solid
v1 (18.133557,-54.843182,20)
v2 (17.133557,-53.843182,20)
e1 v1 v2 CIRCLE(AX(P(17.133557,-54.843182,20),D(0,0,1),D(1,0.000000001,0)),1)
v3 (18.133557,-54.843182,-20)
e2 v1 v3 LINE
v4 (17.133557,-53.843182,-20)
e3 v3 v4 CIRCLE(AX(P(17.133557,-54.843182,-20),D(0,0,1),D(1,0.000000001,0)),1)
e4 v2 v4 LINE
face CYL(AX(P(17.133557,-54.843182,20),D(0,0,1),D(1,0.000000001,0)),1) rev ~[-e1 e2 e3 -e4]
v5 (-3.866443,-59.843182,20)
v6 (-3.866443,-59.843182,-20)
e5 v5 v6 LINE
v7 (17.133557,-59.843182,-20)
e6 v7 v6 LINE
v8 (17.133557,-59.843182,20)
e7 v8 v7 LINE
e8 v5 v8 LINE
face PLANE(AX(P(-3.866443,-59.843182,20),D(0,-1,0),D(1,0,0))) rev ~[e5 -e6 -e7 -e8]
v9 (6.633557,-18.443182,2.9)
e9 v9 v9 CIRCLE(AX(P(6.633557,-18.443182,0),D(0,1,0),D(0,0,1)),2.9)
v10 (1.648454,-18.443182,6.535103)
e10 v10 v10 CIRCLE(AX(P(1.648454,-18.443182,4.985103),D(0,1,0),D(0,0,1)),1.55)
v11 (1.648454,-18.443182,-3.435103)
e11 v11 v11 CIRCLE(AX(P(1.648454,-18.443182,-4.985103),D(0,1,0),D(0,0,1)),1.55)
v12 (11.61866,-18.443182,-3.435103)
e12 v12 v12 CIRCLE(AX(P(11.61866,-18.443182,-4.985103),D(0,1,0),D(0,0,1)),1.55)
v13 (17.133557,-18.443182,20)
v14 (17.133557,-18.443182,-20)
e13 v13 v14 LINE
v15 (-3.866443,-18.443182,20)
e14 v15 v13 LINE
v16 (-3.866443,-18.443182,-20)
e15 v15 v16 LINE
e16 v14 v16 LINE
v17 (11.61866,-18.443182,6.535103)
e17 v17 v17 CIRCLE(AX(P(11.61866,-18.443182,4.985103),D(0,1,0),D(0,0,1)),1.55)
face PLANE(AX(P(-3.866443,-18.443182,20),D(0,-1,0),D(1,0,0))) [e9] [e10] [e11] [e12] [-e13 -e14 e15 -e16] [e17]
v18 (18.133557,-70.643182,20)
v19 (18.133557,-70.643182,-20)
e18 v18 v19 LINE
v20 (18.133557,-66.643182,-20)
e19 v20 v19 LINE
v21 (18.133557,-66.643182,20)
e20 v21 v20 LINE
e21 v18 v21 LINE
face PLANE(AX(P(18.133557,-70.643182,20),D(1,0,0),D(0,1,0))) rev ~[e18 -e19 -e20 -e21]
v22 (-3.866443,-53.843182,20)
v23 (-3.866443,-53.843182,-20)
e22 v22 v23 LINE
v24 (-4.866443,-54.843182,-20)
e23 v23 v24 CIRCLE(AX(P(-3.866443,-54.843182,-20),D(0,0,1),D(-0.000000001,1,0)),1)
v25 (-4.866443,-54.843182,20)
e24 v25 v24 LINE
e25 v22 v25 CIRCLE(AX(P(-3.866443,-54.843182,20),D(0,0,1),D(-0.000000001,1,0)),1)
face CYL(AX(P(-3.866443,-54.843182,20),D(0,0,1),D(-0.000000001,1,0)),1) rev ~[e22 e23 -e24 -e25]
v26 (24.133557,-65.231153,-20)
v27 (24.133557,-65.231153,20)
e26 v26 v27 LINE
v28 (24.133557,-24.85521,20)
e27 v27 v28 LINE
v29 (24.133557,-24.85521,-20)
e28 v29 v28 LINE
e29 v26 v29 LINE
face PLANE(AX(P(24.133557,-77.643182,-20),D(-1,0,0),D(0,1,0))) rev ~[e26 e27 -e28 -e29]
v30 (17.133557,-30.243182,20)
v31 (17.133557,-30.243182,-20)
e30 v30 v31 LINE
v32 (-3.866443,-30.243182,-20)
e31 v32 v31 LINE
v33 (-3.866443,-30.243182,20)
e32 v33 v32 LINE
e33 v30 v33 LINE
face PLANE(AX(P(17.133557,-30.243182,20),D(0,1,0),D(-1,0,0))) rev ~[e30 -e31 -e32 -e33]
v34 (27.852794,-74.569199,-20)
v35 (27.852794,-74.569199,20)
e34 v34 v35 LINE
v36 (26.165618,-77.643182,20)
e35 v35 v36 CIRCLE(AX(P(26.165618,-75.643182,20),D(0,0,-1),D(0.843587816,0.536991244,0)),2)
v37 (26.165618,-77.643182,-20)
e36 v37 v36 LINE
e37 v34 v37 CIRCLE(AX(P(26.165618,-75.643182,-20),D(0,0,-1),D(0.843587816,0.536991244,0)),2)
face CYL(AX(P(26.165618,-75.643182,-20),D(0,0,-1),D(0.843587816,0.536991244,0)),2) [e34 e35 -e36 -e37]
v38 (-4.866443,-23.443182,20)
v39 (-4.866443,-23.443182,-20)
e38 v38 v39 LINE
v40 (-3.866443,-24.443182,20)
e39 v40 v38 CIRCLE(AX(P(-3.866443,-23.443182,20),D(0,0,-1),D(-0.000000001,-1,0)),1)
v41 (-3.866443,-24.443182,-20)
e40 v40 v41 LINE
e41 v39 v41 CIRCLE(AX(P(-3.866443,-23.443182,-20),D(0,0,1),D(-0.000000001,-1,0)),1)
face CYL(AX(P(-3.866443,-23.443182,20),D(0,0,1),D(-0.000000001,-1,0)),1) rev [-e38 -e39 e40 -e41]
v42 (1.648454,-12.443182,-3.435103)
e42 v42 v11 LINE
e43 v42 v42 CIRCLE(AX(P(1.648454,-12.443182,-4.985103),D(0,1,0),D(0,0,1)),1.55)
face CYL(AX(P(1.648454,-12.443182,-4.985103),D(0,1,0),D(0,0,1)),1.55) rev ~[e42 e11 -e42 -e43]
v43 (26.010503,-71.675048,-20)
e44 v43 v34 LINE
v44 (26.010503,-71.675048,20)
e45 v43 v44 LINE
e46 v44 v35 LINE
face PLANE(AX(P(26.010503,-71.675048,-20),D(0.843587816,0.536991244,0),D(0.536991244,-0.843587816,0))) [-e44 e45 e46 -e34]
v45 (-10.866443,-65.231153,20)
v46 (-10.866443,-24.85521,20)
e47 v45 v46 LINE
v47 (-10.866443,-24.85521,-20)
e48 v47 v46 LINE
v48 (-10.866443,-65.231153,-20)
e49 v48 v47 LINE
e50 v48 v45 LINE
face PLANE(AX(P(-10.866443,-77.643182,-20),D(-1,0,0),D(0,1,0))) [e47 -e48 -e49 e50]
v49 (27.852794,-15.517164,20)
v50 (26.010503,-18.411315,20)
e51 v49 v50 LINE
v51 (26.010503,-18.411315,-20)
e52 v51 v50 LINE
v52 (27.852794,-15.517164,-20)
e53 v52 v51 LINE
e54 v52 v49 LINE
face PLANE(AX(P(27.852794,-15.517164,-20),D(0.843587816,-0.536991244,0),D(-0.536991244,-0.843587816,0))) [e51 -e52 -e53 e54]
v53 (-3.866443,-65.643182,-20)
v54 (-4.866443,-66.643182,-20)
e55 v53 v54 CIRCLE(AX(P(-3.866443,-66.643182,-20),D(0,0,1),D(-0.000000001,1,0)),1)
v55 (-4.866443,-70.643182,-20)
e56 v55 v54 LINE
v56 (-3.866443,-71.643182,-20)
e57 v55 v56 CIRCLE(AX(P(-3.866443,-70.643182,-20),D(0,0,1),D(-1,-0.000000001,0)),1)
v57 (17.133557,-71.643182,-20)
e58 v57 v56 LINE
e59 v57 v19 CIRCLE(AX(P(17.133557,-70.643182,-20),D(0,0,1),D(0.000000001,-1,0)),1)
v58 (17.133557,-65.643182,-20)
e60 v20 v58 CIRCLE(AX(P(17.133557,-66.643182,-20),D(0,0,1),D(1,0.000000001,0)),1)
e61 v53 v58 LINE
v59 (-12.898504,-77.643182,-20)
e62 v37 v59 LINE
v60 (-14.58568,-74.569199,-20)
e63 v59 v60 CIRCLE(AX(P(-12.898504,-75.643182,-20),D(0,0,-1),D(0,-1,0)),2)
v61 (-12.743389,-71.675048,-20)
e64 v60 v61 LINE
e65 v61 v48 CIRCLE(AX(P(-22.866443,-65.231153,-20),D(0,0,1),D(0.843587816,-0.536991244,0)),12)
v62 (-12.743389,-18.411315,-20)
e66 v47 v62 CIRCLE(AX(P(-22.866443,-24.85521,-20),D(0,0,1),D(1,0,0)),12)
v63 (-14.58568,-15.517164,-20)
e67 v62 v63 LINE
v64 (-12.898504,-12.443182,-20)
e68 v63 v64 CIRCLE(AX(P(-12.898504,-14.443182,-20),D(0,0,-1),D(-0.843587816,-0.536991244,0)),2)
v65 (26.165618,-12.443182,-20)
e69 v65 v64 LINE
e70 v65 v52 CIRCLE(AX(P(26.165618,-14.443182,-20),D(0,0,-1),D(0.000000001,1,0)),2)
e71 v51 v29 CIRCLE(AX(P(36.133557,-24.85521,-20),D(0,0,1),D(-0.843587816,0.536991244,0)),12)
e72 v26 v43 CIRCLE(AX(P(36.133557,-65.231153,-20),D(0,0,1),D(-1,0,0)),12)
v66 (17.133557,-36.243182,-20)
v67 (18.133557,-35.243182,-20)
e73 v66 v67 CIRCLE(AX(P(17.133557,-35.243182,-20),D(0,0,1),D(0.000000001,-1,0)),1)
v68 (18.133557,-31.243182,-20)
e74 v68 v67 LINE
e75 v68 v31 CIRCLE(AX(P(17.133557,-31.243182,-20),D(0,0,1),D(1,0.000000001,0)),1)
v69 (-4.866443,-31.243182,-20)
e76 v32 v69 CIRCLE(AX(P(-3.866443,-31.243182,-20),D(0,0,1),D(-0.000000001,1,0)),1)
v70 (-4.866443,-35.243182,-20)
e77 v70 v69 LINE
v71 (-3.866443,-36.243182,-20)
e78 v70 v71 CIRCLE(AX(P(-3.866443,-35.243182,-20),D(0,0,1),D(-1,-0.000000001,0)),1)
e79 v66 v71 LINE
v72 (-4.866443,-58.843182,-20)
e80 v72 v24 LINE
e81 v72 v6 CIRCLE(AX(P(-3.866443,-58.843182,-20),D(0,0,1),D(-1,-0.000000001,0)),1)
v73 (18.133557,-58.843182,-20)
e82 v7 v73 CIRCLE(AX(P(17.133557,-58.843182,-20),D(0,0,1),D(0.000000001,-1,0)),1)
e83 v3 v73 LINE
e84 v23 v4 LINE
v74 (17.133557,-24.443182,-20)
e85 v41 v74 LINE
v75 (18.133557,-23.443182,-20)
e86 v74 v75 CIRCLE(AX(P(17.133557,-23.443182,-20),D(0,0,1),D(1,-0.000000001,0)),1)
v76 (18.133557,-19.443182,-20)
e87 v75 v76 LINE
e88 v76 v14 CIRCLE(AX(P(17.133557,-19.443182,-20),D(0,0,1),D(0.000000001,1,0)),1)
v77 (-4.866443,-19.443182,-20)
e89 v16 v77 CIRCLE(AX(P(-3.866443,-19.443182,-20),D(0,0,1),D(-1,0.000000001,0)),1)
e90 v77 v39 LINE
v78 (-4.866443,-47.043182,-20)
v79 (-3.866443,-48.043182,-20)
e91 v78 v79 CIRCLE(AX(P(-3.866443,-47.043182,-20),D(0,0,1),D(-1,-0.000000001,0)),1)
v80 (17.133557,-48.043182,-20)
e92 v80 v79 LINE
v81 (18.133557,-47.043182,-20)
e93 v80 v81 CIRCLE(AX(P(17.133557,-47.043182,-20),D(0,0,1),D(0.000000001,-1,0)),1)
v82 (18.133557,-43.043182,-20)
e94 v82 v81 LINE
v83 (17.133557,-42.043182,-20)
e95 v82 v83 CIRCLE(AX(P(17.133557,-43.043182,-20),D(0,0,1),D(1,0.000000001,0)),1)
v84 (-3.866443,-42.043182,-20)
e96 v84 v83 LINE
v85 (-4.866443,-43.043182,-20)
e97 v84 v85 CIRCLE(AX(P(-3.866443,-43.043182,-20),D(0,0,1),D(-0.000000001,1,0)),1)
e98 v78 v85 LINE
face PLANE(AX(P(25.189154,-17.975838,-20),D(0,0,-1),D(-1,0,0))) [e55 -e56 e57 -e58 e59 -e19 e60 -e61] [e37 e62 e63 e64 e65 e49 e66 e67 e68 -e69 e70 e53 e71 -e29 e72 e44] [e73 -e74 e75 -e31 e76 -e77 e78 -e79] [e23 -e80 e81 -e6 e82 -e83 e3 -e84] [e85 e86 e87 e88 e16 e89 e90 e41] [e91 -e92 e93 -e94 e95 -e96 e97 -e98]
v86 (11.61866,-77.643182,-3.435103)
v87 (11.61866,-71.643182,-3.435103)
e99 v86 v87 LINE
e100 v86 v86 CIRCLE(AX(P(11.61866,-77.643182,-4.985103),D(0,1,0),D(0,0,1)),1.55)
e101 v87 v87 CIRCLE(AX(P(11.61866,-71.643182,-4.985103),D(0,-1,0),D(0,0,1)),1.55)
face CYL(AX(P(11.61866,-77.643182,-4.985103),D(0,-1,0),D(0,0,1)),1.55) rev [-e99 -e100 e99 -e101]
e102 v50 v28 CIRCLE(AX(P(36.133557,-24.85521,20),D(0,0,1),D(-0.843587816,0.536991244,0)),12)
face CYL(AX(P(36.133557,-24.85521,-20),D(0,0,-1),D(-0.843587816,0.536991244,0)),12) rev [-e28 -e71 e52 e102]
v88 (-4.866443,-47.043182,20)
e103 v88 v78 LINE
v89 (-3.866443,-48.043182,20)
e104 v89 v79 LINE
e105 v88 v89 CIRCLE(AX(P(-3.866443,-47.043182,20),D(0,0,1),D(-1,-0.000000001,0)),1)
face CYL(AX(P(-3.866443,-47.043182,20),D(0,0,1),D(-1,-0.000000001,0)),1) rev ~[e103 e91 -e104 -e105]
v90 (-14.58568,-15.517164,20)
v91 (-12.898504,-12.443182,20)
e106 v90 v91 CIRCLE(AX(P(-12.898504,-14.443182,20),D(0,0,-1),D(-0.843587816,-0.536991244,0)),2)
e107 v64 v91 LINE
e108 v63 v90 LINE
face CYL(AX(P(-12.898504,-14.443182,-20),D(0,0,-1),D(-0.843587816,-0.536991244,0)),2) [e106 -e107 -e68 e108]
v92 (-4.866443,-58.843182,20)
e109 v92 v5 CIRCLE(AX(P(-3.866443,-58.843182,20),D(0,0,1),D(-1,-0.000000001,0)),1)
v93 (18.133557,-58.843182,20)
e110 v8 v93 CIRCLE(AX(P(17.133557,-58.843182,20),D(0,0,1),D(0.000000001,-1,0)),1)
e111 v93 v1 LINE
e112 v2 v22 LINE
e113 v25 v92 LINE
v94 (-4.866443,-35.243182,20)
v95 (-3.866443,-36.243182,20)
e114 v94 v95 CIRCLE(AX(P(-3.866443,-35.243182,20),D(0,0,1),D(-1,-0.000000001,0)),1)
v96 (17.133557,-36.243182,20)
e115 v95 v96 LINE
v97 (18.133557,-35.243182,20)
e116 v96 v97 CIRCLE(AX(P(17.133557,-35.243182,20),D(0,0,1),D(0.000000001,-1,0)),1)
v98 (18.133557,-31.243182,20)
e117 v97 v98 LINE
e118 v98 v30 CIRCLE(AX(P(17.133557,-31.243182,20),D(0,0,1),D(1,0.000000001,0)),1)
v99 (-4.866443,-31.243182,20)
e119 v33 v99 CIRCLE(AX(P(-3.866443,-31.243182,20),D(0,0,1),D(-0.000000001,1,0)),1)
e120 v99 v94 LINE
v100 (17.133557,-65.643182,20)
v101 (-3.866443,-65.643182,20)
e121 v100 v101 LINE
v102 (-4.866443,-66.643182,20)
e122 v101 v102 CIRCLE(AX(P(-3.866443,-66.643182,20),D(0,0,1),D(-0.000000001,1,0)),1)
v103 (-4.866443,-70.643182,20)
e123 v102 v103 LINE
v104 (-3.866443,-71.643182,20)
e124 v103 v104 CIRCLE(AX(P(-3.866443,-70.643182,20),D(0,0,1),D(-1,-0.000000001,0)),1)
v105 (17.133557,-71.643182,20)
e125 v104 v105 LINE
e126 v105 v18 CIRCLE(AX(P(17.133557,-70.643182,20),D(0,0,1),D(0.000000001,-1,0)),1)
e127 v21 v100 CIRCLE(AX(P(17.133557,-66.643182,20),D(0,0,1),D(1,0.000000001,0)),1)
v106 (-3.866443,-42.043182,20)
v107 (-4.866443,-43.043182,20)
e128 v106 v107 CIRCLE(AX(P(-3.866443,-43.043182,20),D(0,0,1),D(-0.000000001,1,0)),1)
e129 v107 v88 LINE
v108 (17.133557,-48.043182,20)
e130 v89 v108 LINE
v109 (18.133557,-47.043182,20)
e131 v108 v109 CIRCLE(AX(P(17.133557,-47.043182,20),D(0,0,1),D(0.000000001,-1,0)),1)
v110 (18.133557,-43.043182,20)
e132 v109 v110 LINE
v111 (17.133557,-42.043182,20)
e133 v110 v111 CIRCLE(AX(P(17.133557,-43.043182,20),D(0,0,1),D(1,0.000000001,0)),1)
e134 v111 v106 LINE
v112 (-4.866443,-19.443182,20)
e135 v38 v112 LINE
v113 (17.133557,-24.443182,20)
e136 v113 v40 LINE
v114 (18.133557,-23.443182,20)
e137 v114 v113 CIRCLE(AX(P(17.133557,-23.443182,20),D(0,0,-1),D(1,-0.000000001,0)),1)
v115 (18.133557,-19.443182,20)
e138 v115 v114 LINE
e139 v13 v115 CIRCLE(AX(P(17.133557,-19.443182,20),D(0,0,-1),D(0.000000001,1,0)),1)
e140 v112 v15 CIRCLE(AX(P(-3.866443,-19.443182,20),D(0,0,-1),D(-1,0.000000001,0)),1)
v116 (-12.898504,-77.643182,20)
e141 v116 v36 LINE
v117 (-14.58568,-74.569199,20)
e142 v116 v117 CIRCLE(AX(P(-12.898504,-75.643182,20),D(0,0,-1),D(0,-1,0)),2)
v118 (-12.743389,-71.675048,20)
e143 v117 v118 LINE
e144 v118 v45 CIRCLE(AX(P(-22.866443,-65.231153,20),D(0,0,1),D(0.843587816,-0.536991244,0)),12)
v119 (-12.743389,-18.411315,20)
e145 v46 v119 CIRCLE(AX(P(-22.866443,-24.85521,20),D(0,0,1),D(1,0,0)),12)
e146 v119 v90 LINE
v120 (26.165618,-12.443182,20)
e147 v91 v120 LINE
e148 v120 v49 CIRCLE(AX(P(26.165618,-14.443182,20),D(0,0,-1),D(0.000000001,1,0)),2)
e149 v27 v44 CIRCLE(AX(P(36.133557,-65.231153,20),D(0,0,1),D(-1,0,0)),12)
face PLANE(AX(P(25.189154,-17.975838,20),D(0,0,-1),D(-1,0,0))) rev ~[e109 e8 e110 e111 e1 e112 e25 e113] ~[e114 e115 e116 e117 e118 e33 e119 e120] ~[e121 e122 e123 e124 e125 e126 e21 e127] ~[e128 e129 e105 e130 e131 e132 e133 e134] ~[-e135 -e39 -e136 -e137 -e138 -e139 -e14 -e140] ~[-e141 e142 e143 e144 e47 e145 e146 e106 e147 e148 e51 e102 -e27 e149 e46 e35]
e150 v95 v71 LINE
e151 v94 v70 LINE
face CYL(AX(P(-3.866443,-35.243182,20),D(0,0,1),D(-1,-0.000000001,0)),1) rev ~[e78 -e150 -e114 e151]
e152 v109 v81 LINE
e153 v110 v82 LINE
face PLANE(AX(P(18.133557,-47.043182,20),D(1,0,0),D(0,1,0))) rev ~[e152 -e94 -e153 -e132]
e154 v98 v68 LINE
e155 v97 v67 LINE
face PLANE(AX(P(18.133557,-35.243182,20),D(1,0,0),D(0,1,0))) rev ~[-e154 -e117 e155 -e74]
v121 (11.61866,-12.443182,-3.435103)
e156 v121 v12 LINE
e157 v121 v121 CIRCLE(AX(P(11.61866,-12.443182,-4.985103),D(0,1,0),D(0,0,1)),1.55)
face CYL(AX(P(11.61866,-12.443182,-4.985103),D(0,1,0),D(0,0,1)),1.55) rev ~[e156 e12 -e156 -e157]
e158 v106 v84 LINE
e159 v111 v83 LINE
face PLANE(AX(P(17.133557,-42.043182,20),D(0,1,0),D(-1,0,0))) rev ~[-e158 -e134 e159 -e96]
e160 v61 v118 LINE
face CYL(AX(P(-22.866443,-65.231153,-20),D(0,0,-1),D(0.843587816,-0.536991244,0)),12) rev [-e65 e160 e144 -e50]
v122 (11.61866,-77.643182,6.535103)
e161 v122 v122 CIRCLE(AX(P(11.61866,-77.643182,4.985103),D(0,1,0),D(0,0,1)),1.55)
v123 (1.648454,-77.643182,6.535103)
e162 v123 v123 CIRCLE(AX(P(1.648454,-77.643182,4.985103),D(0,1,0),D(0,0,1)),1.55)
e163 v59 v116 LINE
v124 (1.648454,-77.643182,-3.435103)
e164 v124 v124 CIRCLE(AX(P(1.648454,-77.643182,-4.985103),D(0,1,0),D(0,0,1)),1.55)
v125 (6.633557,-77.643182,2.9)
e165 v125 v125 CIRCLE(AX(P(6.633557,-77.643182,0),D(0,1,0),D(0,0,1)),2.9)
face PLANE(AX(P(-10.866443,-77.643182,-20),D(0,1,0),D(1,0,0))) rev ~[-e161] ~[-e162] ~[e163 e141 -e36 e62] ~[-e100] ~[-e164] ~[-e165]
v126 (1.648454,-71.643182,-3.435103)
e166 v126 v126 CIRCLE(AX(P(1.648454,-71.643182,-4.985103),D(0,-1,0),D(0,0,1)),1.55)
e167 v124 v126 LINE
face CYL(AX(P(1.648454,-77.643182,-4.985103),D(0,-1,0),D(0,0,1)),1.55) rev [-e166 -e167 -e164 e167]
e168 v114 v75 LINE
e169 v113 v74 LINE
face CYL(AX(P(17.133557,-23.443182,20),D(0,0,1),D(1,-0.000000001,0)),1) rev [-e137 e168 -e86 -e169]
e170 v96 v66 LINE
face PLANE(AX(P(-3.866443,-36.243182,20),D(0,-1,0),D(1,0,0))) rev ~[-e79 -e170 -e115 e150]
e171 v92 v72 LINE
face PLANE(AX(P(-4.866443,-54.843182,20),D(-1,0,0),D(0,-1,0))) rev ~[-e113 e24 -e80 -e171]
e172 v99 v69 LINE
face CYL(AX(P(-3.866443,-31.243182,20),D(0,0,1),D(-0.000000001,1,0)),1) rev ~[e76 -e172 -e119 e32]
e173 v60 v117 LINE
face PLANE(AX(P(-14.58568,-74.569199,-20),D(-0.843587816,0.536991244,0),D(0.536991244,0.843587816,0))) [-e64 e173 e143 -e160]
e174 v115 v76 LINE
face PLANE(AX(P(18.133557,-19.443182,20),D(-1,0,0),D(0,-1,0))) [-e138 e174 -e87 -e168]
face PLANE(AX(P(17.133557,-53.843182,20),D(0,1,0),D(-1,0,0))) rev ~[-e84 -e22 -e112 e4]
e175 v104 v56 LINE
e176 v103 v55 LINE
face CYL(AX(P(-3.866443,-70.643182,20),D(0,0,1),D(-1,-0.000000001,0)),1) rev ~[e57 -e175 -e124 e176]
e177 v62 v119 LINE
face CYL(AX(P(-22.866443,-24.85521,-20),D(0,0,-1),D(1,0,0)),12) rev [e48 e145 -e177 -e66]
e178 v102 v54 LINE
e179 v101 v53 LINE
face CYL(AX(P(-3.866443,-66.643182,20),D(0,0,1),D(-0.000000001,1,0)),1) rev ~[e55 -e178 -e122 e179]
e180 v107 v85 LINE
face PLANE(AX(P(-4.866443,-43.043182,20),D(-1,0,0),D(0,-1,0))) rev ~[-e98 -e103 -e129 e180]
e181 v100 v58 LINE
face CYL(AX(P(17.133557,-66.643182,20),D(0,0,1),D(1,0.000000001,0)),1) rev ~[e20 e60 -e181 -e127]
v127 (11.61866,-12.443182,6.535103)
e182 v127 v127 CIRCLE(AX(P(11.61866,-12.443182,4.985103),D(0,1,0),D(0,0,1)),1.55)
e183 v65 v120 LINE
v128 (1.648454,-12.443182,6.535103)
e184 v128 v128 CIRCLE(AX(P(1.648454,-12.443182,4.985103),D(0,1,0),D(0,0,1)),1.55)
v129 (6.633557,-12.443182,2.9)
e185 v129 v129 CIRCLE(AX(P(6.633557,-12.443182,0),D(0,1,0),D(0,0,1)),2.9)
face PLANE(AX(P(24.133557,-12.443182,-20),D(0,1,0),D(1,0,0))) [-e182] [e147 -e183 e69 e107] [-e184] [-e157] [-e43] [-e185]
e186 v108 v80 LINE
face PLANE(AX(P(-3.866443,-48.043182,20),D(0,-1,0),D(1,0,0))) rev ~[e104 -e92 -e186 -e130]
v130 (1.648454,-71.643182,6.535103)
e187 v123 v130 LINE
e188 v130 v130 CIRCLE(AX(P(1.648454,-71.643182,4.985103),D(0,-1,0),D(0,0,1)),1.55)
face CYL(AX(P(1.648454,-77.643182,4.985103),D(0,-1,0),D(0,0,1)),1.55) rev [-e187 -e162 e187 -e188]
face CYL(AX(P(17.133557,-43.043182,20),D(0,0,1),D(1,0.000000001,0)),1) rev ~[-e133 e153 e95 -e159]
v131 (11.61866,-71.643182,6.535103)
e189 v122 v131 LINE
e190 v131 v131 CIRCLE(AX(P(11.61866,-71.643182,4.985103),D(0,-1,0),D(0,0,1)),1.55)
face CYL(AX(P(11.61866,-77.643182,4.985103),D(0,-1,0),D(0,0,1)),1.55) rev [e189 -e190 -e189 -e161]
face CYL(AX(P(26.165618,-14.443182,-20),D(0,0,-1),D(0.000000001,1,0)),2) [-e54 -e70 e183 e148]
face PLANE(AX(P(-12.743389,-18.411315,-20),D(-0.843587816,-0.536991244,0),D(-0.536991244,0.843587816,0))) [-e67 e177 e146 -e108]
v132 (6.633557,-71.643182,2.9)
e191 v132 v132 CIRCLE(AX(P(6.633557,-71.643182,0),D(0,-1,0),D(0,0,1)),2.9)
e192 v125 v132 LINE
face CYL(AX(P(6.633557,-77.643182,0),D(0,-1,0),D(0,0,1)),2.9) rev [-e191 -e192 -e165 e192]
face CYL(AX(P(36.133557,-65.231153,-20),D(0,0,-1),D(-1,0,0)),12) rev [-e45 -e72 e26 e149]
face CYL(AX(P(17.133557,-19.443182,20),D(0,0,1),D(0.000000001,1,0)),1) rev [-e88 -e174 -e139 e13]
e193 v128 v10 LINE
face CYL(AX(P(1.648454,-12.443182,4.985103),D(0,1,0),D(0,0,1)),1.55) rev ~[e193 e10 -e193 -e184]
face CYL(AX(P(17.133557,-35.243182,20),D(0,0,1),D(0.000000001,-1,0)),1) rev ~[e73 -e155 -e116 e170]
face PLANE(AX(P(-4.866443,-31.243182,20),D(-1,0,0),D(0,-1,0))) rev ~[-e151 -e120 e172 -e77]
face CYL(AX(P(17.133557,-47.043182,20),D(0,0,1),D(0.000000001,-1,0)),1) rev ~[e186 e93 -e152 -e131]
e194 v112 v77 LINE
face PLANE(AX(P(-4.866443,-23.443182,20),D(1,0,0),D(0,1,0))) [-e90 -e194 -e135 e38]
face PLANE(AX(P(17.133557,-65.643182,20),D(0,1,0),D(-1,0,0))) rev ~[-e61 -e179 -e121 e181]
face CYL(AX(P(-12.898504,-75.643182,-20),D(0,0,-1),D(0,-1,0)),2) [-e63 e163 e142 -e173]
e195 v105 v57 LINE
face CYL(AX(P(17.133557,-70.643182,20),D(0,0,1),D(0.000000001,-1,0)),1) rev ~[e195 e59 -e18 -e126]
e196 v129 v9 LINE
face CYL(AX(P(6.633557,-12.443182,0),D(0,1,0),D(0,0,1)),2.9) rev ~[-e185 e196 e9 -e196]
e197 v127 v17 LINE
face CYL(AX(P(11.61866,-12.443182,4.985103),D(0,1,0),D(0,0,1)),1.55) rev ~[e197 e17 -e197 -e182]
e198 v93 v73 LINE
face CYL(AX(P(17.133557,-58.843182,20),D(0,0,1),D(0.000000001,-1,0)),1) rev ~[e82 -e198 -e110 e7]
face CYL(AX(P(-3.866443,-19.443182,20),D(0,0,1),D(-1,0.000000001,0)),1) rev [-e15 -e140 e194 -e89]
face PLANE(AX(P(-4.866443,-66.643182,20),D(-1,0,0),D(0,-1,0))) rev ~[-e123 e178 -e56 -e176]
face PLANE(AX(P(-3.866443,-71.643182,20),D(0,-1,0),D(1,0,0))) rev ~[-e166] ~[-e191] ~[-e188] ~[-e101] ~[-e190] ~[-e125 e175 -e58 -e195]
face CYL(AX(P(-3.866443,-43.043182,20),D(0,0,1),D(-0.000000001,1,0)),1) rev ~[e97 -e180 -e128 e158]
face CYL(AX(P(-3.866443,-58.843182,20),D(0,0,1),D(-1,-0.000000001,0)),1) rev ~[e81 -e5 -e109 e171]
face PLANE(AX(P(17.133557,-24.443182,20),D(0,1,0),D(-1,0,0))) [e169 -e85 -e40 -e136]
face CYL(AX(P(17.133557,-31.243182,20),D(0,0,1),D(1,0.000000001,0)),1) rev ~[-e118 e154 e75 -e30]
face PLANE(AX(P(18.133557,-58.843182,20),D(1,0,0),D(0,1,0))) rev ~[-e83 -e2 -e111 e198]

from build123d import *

# Parameters (mm, degrees)
BOSS_EXTRUDE1_DEPTH      = 20
BOSS_EXTRUDE1_DEPTH_BACK = 20
SKETCH1_W                = 35
SKETCH1_H                = 65.2
CUT_EXTRUDE3_REACH       = 92.614
SKETCH7_R                = 1.55
SKETCH7_R_2              = 2.9
CUT_EXTRUDE4_DEPTH       = 10
BOSS_EXTRUDE2_DEPTH      = 40


with BuildPart() as part:
    # Sketch1 → Boss-Extrude1 (new, two sides: drawn at the far end of the back side and taken through both)
    with BuildSketch(Plane.XY.offset(-BOSS_EXTRUDE1_DEPTH_BACK)):
        with Locations((6.633557164, -45.043181818)):
            Rectangle(SKETCH1_W, SKETCH1_H)
    extrude(amount=BOSS_EXTRUDE1_DEPTH + BOSS_EXTRUDE1_DEPTH_BACK)

    # Sketch5 → Cut-Extrude3 (cut, up to next)
    with BuildSketch(Plane.XY.offset(20), mode=Mode.PRIVATE) as cut_extrude3_sk1:
        with BuildLine():
            Line((-4.866442836, -31.243181818), (-4.866442836, -35.243181818))
            ThreePointArc((-4.866442836, -35.243181818), (-4.573549617, -35.950288599), (-3.866442836, -36.243181818))
            Line((-3.866442836, -36.243181818), (17.133557164, -36.243181818))
            ThreePointArc((17.133557164, -36.243181818), (17.840663945, -35.950288599), (18.133557164, -35.243181818))
            Line((18.133557164, -35.243181818), (18.133557164, -31.243181818))
            ThreePointArc((18.133557164, -31.243181818), (17.840663945, -30.536075037), (17.133557164, -30.243181818))
            Line((17.133557164, -30.243181818), (-3.866442836, -30.243181818))
            ThreePointArc((-3.866442836, -30.243181818), (-4.573549617, -30.536075037), (-4.866442836, -31.243181818))
        make_face()
    cut_extrude3_tool1 = extrude(cut_extrude3_sk1.sketch, amount=-CUT_EXTRUDE3_REACH, mode=Mode.PRIVATE) & part.part
    # Sketch5 → Cut-Extrude3 (cut, up to next)
    with BuildSketch(Plane.XY.offset(20), mode=Mode.PRIVATE) as cut_extrude3_sk2:
        with BuildLine():
            Line((-4.866442836, -43.043181818), (-4.866442836, -47.043181818))
            ThreePointArc((-4.866442836, -47.043181818), (-4.573549617, -47.750288599), (-3.866442836, -48.043181818))
            Line((-3.866442836, -48.043181818), (17.133557164, -48.043181818))
            ThreePointArc((17.133557164, -48.043181818), (17.840663945, -47.750288599), (18.133557164, -47.043181818))
            Line((18.133557164, -47.043181818), (18.133557164, -43.043181818))
            ThreePointArc((18.133557164, -43.043181818), (17.840663945, -42.336075037), (17.133557164, -42.043181818))
            Line((17.133557164, -42.043181818), (-3.866442836, -42.043181818))
            ThreePointArc((-3.866442836, -42.043181818), (-4.573549617, -42.336075037), (-4.866442836, -43.043181818))
        make_face()
    cut_extrude3_tool2 = extrude(cut_extrude3_sk2.sketch, amount=-CUT_EXTRUDE3_REACH, mode=Mode.PRIVATE) & part.part
    # Sketch5 → Cut-Extrude3 (cut, up to next)
    with BuildSketch(Plane.XY.offset(20), mode=Mode.PRIVATE) as cut_extrude3_sk3:
        with BuildLine():
            Line((-3.866442836, -18.443181818), (17.133557164, -18.443181818))
            ThreePointArc((17.133557164, -18.443181818), (17.840663945, -18.736075037), (18.133557164, -19.443181818))
            Line((18.133557164, -19.443181818), (18.133557164, -23.443181818))
            ThreePointArc((18.133557164, -23.443181818), (17.840663945, -24.150288599), (17.133557164, -24.443181818))
            Line((17.133557164, -24.443181818), (-3.866442836, -24.443181818))
            ThreePointArc((-3.866442836, -24.443181818), (-4.573549617, -24.150288599), (-4.866442836, -23.443181818))
            Line((-4.866442836, -23.443181818), (-4.866442836, -19.443181818))
            ThreePointArc((-4.866442836, -19.443181818), (-4.573549617, -18.736075037), (-3.866442836, -18.443181818))
        make_face()
    cut_extrude3_tool3 = extrude(cut_extrude3_sk3.sketch, amount=-CUT_EXTRUDE3_REACH, mode=Mode.PRIVATE) & part.part
    # Sketch5 → Cut-Extrude3 (cut, up to next)
    with BuildSketch(Plane.XY.offset(20), mode=Mode.PRIVATE) as cut_extrude3_sk4:
        with BuildLine():
            Line((-4.866442836, -54.843181818), (-4.866442836, -58.843181818))
            ThreePointArc((-4.866442836, -58.843181818), (-4.573549617, -59.550288599), (-3.866442836, -59.843181818))
            Line((-3.866442836, -59.843181818), (17.133557164, -59.843181818))
            ThreePointArc((17.133557164, -59.843181818), (17.840663945, -59.550288599), (18.133557164, -58.843181818))
            Line((18.133557164, -58.843181818), (18.133557164, -54.843181818))
            ThreePointArc((18.133557164, -54.843181818), (17.840663945, -54.136075037), (17.133557164, -53.843181818))
            Line((17.133557164, -53.843181818), (-3.866442836, -53.843181818))
            ThreePointArc((-3.866442836, -53.843181818), (-4.573549617, -54.136075037), (-4.866442836, -54.843181818))
        make_face()
    cut_extrude3_tool4 = extrude(cut_extrude3_sk4.sketch, amount=-CUT_EXTRUDE3_REACH, mode=Mode.PRIVATE) & part.part
    # Sketch5 → Cut-Extrude3 (cut, up to next)
    with BuildSketch(Plane.XY.offset(20), mode=Mode.PRIVATE) as cut_extrude3_sk5:
        with BuildLine():
            Line((-4.866442836, -66.643181818), (-4.866442836, -70.643181818))
            ThreePointArc((-4.866442836, -70.643181818), (-4.573549617, -71.350288599), (-3.866442836, -71.643181818))
            Line((-3.866442836, -71.643181818), (17.133557164, -71.643181818))
            ThreePointArc((17.133557164, -71.643181818), (17.840663945, -71.350288599), (18.133557164, -70.643181818))
            Line((18.133557164, -70.643181818), (18.133557164, -66.643181818))
            ThreePointArc((18.133557164, -66.643181818), (17.840663945, -65.936075037), (17.133557164, -65.643181818))
            Line((17.133557164, -65.643181818), (-3.866442836, -65.643181818))
            ThreePointArc((-3.866442836, -65.643181818), (-4.573549617, -65.936075037), (-4.866442836, -66.643181818))
        make_face()
    cut_extrude3_tool5 = extrude(cut_extrude3_sk5.sketch, amount=-CUT_EXTRUDE3_REACH, mode=Mode.PRIVATE) & part.part
    add(cut_extrude3_tool1.solids().sort_by_distance((6.633557, -33.243182, 20))[0], mode=Mode.SUBTRACT)
    add(cut_extrude3_tool2.solids().sort_by_distance((6.633557, -45.043182, 20))[0], mode=Mode.SUBTRACT)
    add(cut_extrude3_tool3.solids().sort_by_distance((6.633557, -21.443182, 20))[0], mode=Mode.SUBTRACT)
    add(cut_extrude3_tool4.solids().sort_by_distance((6.633557, -56.843182, 20))[0], mode=Mode.SUBTRACT)
    add(cut_extrude3_tool5.solids().sort_by_distance((6.633557, -68.643182, 20))[0], mode=Mode.SUBTRACT)

    # Sketch7 → Cut-Extrude4 (cut)
    with BuildSketch(Plane(origin=(0, -12.443181818, 0), x_dir=(1, 0, 0), z_dir=(0, 1, 0))):
        with Locations(Location((1.648454357, 4.985102807, 0), (0, 0, 270))):
            Circle(SKETCH7_R)
        with Locations(Location((6.633557164, 0, 0), (0, 0, 270))):
            Circle(SKETCH7_R_2)
        with Locations(Location((11.618659971, 4.985102807, 0), (0, 0, 270))):
            Circle(SKETCH7_R)
        with Locations(Location((11.618659971, -4.985102807, 0), (0, 0, 270))):
            Circle(SKETCH7_R)
        with Locations(Location((1.648454357, -4.985102807, 0), (0, 0, 270))):
            Circle(SKETCH7_R)
    cut_extrude4 = extrude(amount=-CUT_EXTRUDE4_DEPTH, mode=Mode.SUBTRACT)

    # Mirror5: Cut-Extrude4 across plane
    add(cut_extrude4.mirror(Plane.ZX.offset(-45.043181818)), mode=Mode.SUBTRACT)

    # Sketch9 → Boss-Extrude2 (add)
    with BuildSketch(Plane(origin=(0, 0, -20), x_dir=(-1, 0, 0), z_dir=(0, 0, -1))):
        with BuildLine():
            Line((-24.133557164, -24.855210359), (-24.133557164, -12.443181818))
            Line((-24.133557164, -12.443181818), (-26.165618229, -12.443181818))
            ThreePointArc((-26.165618229, -12.443181818), (-27.91889587, -13.480883782), (-27.852793861, -15.517164307))
            Line((-27.852793861, -15.517164307), (-26.01050337, -18.411315428))
            ThreePointArc((-26.01050337, -18.411315428), (-24.612345302, -21.499368105), (-24.133557164, -24.855210359))
        make_face()
        with BuildLine():
            Line((-24.133557164, -77.643181818), (-24.133557164, -65.231153277))
            ThreePointArc((-24.133557164, -65.231153277), (-24.612345302, -68.586995532), (-26.01050337, -71.675048209))
            Line((-26.01050337, -71.675048209), (-27.852793861, -74.56919933))
            ThreePointArc((-27.852793861, -74.56919933), (-27.91889587, -76.605479855), (-26.165618229, -77.643181818))
            Line((-26.165618229, -77.643181818), (-24.133557164, -77.643181818))
        make_face()
        with BuildLine():
            Line((10.866442836, -65.231153277), (10.866442836, -77.643181818))
            Line((10.866442836, -77.643181818), (12.898503901, -77.643181818))
            ThreePointArc((12.898503901, -77.643181818), (14.651781542, -76.605479855), (14.585679533, -74.56919933))
            Line((14.585679533, -74.56919933), (12.743389042, -71.675048209))
            ThreePointArc((12.743389042, -71.675048209), (11.345230974, -68.586995532), (10.866442836, -65.231153277))
        make_face()
        with BuildLine():
            Line((10.866442836, -12.443181818), (10.866442836, -24.855210359))
            ThreePointArc((10.866442836, -24.855210359), (11.345230974, -21.499368105), (12.743389042, -18.411315428))
            Line((12.743389042, -18.411315428), (14.585679533, -15.517164307))
            ThreePointArc((14.585679533, -15.517164307), (14.651781542, -13.480883782), (12.898503901, -12.443181818))
            Line((12.898503901, -12.443181818), (10.866442836, -12.443181818))
        make_face()
    extrude(amount=-BOSS_EXTRUDE2_DEPTH)


solid = part.part
